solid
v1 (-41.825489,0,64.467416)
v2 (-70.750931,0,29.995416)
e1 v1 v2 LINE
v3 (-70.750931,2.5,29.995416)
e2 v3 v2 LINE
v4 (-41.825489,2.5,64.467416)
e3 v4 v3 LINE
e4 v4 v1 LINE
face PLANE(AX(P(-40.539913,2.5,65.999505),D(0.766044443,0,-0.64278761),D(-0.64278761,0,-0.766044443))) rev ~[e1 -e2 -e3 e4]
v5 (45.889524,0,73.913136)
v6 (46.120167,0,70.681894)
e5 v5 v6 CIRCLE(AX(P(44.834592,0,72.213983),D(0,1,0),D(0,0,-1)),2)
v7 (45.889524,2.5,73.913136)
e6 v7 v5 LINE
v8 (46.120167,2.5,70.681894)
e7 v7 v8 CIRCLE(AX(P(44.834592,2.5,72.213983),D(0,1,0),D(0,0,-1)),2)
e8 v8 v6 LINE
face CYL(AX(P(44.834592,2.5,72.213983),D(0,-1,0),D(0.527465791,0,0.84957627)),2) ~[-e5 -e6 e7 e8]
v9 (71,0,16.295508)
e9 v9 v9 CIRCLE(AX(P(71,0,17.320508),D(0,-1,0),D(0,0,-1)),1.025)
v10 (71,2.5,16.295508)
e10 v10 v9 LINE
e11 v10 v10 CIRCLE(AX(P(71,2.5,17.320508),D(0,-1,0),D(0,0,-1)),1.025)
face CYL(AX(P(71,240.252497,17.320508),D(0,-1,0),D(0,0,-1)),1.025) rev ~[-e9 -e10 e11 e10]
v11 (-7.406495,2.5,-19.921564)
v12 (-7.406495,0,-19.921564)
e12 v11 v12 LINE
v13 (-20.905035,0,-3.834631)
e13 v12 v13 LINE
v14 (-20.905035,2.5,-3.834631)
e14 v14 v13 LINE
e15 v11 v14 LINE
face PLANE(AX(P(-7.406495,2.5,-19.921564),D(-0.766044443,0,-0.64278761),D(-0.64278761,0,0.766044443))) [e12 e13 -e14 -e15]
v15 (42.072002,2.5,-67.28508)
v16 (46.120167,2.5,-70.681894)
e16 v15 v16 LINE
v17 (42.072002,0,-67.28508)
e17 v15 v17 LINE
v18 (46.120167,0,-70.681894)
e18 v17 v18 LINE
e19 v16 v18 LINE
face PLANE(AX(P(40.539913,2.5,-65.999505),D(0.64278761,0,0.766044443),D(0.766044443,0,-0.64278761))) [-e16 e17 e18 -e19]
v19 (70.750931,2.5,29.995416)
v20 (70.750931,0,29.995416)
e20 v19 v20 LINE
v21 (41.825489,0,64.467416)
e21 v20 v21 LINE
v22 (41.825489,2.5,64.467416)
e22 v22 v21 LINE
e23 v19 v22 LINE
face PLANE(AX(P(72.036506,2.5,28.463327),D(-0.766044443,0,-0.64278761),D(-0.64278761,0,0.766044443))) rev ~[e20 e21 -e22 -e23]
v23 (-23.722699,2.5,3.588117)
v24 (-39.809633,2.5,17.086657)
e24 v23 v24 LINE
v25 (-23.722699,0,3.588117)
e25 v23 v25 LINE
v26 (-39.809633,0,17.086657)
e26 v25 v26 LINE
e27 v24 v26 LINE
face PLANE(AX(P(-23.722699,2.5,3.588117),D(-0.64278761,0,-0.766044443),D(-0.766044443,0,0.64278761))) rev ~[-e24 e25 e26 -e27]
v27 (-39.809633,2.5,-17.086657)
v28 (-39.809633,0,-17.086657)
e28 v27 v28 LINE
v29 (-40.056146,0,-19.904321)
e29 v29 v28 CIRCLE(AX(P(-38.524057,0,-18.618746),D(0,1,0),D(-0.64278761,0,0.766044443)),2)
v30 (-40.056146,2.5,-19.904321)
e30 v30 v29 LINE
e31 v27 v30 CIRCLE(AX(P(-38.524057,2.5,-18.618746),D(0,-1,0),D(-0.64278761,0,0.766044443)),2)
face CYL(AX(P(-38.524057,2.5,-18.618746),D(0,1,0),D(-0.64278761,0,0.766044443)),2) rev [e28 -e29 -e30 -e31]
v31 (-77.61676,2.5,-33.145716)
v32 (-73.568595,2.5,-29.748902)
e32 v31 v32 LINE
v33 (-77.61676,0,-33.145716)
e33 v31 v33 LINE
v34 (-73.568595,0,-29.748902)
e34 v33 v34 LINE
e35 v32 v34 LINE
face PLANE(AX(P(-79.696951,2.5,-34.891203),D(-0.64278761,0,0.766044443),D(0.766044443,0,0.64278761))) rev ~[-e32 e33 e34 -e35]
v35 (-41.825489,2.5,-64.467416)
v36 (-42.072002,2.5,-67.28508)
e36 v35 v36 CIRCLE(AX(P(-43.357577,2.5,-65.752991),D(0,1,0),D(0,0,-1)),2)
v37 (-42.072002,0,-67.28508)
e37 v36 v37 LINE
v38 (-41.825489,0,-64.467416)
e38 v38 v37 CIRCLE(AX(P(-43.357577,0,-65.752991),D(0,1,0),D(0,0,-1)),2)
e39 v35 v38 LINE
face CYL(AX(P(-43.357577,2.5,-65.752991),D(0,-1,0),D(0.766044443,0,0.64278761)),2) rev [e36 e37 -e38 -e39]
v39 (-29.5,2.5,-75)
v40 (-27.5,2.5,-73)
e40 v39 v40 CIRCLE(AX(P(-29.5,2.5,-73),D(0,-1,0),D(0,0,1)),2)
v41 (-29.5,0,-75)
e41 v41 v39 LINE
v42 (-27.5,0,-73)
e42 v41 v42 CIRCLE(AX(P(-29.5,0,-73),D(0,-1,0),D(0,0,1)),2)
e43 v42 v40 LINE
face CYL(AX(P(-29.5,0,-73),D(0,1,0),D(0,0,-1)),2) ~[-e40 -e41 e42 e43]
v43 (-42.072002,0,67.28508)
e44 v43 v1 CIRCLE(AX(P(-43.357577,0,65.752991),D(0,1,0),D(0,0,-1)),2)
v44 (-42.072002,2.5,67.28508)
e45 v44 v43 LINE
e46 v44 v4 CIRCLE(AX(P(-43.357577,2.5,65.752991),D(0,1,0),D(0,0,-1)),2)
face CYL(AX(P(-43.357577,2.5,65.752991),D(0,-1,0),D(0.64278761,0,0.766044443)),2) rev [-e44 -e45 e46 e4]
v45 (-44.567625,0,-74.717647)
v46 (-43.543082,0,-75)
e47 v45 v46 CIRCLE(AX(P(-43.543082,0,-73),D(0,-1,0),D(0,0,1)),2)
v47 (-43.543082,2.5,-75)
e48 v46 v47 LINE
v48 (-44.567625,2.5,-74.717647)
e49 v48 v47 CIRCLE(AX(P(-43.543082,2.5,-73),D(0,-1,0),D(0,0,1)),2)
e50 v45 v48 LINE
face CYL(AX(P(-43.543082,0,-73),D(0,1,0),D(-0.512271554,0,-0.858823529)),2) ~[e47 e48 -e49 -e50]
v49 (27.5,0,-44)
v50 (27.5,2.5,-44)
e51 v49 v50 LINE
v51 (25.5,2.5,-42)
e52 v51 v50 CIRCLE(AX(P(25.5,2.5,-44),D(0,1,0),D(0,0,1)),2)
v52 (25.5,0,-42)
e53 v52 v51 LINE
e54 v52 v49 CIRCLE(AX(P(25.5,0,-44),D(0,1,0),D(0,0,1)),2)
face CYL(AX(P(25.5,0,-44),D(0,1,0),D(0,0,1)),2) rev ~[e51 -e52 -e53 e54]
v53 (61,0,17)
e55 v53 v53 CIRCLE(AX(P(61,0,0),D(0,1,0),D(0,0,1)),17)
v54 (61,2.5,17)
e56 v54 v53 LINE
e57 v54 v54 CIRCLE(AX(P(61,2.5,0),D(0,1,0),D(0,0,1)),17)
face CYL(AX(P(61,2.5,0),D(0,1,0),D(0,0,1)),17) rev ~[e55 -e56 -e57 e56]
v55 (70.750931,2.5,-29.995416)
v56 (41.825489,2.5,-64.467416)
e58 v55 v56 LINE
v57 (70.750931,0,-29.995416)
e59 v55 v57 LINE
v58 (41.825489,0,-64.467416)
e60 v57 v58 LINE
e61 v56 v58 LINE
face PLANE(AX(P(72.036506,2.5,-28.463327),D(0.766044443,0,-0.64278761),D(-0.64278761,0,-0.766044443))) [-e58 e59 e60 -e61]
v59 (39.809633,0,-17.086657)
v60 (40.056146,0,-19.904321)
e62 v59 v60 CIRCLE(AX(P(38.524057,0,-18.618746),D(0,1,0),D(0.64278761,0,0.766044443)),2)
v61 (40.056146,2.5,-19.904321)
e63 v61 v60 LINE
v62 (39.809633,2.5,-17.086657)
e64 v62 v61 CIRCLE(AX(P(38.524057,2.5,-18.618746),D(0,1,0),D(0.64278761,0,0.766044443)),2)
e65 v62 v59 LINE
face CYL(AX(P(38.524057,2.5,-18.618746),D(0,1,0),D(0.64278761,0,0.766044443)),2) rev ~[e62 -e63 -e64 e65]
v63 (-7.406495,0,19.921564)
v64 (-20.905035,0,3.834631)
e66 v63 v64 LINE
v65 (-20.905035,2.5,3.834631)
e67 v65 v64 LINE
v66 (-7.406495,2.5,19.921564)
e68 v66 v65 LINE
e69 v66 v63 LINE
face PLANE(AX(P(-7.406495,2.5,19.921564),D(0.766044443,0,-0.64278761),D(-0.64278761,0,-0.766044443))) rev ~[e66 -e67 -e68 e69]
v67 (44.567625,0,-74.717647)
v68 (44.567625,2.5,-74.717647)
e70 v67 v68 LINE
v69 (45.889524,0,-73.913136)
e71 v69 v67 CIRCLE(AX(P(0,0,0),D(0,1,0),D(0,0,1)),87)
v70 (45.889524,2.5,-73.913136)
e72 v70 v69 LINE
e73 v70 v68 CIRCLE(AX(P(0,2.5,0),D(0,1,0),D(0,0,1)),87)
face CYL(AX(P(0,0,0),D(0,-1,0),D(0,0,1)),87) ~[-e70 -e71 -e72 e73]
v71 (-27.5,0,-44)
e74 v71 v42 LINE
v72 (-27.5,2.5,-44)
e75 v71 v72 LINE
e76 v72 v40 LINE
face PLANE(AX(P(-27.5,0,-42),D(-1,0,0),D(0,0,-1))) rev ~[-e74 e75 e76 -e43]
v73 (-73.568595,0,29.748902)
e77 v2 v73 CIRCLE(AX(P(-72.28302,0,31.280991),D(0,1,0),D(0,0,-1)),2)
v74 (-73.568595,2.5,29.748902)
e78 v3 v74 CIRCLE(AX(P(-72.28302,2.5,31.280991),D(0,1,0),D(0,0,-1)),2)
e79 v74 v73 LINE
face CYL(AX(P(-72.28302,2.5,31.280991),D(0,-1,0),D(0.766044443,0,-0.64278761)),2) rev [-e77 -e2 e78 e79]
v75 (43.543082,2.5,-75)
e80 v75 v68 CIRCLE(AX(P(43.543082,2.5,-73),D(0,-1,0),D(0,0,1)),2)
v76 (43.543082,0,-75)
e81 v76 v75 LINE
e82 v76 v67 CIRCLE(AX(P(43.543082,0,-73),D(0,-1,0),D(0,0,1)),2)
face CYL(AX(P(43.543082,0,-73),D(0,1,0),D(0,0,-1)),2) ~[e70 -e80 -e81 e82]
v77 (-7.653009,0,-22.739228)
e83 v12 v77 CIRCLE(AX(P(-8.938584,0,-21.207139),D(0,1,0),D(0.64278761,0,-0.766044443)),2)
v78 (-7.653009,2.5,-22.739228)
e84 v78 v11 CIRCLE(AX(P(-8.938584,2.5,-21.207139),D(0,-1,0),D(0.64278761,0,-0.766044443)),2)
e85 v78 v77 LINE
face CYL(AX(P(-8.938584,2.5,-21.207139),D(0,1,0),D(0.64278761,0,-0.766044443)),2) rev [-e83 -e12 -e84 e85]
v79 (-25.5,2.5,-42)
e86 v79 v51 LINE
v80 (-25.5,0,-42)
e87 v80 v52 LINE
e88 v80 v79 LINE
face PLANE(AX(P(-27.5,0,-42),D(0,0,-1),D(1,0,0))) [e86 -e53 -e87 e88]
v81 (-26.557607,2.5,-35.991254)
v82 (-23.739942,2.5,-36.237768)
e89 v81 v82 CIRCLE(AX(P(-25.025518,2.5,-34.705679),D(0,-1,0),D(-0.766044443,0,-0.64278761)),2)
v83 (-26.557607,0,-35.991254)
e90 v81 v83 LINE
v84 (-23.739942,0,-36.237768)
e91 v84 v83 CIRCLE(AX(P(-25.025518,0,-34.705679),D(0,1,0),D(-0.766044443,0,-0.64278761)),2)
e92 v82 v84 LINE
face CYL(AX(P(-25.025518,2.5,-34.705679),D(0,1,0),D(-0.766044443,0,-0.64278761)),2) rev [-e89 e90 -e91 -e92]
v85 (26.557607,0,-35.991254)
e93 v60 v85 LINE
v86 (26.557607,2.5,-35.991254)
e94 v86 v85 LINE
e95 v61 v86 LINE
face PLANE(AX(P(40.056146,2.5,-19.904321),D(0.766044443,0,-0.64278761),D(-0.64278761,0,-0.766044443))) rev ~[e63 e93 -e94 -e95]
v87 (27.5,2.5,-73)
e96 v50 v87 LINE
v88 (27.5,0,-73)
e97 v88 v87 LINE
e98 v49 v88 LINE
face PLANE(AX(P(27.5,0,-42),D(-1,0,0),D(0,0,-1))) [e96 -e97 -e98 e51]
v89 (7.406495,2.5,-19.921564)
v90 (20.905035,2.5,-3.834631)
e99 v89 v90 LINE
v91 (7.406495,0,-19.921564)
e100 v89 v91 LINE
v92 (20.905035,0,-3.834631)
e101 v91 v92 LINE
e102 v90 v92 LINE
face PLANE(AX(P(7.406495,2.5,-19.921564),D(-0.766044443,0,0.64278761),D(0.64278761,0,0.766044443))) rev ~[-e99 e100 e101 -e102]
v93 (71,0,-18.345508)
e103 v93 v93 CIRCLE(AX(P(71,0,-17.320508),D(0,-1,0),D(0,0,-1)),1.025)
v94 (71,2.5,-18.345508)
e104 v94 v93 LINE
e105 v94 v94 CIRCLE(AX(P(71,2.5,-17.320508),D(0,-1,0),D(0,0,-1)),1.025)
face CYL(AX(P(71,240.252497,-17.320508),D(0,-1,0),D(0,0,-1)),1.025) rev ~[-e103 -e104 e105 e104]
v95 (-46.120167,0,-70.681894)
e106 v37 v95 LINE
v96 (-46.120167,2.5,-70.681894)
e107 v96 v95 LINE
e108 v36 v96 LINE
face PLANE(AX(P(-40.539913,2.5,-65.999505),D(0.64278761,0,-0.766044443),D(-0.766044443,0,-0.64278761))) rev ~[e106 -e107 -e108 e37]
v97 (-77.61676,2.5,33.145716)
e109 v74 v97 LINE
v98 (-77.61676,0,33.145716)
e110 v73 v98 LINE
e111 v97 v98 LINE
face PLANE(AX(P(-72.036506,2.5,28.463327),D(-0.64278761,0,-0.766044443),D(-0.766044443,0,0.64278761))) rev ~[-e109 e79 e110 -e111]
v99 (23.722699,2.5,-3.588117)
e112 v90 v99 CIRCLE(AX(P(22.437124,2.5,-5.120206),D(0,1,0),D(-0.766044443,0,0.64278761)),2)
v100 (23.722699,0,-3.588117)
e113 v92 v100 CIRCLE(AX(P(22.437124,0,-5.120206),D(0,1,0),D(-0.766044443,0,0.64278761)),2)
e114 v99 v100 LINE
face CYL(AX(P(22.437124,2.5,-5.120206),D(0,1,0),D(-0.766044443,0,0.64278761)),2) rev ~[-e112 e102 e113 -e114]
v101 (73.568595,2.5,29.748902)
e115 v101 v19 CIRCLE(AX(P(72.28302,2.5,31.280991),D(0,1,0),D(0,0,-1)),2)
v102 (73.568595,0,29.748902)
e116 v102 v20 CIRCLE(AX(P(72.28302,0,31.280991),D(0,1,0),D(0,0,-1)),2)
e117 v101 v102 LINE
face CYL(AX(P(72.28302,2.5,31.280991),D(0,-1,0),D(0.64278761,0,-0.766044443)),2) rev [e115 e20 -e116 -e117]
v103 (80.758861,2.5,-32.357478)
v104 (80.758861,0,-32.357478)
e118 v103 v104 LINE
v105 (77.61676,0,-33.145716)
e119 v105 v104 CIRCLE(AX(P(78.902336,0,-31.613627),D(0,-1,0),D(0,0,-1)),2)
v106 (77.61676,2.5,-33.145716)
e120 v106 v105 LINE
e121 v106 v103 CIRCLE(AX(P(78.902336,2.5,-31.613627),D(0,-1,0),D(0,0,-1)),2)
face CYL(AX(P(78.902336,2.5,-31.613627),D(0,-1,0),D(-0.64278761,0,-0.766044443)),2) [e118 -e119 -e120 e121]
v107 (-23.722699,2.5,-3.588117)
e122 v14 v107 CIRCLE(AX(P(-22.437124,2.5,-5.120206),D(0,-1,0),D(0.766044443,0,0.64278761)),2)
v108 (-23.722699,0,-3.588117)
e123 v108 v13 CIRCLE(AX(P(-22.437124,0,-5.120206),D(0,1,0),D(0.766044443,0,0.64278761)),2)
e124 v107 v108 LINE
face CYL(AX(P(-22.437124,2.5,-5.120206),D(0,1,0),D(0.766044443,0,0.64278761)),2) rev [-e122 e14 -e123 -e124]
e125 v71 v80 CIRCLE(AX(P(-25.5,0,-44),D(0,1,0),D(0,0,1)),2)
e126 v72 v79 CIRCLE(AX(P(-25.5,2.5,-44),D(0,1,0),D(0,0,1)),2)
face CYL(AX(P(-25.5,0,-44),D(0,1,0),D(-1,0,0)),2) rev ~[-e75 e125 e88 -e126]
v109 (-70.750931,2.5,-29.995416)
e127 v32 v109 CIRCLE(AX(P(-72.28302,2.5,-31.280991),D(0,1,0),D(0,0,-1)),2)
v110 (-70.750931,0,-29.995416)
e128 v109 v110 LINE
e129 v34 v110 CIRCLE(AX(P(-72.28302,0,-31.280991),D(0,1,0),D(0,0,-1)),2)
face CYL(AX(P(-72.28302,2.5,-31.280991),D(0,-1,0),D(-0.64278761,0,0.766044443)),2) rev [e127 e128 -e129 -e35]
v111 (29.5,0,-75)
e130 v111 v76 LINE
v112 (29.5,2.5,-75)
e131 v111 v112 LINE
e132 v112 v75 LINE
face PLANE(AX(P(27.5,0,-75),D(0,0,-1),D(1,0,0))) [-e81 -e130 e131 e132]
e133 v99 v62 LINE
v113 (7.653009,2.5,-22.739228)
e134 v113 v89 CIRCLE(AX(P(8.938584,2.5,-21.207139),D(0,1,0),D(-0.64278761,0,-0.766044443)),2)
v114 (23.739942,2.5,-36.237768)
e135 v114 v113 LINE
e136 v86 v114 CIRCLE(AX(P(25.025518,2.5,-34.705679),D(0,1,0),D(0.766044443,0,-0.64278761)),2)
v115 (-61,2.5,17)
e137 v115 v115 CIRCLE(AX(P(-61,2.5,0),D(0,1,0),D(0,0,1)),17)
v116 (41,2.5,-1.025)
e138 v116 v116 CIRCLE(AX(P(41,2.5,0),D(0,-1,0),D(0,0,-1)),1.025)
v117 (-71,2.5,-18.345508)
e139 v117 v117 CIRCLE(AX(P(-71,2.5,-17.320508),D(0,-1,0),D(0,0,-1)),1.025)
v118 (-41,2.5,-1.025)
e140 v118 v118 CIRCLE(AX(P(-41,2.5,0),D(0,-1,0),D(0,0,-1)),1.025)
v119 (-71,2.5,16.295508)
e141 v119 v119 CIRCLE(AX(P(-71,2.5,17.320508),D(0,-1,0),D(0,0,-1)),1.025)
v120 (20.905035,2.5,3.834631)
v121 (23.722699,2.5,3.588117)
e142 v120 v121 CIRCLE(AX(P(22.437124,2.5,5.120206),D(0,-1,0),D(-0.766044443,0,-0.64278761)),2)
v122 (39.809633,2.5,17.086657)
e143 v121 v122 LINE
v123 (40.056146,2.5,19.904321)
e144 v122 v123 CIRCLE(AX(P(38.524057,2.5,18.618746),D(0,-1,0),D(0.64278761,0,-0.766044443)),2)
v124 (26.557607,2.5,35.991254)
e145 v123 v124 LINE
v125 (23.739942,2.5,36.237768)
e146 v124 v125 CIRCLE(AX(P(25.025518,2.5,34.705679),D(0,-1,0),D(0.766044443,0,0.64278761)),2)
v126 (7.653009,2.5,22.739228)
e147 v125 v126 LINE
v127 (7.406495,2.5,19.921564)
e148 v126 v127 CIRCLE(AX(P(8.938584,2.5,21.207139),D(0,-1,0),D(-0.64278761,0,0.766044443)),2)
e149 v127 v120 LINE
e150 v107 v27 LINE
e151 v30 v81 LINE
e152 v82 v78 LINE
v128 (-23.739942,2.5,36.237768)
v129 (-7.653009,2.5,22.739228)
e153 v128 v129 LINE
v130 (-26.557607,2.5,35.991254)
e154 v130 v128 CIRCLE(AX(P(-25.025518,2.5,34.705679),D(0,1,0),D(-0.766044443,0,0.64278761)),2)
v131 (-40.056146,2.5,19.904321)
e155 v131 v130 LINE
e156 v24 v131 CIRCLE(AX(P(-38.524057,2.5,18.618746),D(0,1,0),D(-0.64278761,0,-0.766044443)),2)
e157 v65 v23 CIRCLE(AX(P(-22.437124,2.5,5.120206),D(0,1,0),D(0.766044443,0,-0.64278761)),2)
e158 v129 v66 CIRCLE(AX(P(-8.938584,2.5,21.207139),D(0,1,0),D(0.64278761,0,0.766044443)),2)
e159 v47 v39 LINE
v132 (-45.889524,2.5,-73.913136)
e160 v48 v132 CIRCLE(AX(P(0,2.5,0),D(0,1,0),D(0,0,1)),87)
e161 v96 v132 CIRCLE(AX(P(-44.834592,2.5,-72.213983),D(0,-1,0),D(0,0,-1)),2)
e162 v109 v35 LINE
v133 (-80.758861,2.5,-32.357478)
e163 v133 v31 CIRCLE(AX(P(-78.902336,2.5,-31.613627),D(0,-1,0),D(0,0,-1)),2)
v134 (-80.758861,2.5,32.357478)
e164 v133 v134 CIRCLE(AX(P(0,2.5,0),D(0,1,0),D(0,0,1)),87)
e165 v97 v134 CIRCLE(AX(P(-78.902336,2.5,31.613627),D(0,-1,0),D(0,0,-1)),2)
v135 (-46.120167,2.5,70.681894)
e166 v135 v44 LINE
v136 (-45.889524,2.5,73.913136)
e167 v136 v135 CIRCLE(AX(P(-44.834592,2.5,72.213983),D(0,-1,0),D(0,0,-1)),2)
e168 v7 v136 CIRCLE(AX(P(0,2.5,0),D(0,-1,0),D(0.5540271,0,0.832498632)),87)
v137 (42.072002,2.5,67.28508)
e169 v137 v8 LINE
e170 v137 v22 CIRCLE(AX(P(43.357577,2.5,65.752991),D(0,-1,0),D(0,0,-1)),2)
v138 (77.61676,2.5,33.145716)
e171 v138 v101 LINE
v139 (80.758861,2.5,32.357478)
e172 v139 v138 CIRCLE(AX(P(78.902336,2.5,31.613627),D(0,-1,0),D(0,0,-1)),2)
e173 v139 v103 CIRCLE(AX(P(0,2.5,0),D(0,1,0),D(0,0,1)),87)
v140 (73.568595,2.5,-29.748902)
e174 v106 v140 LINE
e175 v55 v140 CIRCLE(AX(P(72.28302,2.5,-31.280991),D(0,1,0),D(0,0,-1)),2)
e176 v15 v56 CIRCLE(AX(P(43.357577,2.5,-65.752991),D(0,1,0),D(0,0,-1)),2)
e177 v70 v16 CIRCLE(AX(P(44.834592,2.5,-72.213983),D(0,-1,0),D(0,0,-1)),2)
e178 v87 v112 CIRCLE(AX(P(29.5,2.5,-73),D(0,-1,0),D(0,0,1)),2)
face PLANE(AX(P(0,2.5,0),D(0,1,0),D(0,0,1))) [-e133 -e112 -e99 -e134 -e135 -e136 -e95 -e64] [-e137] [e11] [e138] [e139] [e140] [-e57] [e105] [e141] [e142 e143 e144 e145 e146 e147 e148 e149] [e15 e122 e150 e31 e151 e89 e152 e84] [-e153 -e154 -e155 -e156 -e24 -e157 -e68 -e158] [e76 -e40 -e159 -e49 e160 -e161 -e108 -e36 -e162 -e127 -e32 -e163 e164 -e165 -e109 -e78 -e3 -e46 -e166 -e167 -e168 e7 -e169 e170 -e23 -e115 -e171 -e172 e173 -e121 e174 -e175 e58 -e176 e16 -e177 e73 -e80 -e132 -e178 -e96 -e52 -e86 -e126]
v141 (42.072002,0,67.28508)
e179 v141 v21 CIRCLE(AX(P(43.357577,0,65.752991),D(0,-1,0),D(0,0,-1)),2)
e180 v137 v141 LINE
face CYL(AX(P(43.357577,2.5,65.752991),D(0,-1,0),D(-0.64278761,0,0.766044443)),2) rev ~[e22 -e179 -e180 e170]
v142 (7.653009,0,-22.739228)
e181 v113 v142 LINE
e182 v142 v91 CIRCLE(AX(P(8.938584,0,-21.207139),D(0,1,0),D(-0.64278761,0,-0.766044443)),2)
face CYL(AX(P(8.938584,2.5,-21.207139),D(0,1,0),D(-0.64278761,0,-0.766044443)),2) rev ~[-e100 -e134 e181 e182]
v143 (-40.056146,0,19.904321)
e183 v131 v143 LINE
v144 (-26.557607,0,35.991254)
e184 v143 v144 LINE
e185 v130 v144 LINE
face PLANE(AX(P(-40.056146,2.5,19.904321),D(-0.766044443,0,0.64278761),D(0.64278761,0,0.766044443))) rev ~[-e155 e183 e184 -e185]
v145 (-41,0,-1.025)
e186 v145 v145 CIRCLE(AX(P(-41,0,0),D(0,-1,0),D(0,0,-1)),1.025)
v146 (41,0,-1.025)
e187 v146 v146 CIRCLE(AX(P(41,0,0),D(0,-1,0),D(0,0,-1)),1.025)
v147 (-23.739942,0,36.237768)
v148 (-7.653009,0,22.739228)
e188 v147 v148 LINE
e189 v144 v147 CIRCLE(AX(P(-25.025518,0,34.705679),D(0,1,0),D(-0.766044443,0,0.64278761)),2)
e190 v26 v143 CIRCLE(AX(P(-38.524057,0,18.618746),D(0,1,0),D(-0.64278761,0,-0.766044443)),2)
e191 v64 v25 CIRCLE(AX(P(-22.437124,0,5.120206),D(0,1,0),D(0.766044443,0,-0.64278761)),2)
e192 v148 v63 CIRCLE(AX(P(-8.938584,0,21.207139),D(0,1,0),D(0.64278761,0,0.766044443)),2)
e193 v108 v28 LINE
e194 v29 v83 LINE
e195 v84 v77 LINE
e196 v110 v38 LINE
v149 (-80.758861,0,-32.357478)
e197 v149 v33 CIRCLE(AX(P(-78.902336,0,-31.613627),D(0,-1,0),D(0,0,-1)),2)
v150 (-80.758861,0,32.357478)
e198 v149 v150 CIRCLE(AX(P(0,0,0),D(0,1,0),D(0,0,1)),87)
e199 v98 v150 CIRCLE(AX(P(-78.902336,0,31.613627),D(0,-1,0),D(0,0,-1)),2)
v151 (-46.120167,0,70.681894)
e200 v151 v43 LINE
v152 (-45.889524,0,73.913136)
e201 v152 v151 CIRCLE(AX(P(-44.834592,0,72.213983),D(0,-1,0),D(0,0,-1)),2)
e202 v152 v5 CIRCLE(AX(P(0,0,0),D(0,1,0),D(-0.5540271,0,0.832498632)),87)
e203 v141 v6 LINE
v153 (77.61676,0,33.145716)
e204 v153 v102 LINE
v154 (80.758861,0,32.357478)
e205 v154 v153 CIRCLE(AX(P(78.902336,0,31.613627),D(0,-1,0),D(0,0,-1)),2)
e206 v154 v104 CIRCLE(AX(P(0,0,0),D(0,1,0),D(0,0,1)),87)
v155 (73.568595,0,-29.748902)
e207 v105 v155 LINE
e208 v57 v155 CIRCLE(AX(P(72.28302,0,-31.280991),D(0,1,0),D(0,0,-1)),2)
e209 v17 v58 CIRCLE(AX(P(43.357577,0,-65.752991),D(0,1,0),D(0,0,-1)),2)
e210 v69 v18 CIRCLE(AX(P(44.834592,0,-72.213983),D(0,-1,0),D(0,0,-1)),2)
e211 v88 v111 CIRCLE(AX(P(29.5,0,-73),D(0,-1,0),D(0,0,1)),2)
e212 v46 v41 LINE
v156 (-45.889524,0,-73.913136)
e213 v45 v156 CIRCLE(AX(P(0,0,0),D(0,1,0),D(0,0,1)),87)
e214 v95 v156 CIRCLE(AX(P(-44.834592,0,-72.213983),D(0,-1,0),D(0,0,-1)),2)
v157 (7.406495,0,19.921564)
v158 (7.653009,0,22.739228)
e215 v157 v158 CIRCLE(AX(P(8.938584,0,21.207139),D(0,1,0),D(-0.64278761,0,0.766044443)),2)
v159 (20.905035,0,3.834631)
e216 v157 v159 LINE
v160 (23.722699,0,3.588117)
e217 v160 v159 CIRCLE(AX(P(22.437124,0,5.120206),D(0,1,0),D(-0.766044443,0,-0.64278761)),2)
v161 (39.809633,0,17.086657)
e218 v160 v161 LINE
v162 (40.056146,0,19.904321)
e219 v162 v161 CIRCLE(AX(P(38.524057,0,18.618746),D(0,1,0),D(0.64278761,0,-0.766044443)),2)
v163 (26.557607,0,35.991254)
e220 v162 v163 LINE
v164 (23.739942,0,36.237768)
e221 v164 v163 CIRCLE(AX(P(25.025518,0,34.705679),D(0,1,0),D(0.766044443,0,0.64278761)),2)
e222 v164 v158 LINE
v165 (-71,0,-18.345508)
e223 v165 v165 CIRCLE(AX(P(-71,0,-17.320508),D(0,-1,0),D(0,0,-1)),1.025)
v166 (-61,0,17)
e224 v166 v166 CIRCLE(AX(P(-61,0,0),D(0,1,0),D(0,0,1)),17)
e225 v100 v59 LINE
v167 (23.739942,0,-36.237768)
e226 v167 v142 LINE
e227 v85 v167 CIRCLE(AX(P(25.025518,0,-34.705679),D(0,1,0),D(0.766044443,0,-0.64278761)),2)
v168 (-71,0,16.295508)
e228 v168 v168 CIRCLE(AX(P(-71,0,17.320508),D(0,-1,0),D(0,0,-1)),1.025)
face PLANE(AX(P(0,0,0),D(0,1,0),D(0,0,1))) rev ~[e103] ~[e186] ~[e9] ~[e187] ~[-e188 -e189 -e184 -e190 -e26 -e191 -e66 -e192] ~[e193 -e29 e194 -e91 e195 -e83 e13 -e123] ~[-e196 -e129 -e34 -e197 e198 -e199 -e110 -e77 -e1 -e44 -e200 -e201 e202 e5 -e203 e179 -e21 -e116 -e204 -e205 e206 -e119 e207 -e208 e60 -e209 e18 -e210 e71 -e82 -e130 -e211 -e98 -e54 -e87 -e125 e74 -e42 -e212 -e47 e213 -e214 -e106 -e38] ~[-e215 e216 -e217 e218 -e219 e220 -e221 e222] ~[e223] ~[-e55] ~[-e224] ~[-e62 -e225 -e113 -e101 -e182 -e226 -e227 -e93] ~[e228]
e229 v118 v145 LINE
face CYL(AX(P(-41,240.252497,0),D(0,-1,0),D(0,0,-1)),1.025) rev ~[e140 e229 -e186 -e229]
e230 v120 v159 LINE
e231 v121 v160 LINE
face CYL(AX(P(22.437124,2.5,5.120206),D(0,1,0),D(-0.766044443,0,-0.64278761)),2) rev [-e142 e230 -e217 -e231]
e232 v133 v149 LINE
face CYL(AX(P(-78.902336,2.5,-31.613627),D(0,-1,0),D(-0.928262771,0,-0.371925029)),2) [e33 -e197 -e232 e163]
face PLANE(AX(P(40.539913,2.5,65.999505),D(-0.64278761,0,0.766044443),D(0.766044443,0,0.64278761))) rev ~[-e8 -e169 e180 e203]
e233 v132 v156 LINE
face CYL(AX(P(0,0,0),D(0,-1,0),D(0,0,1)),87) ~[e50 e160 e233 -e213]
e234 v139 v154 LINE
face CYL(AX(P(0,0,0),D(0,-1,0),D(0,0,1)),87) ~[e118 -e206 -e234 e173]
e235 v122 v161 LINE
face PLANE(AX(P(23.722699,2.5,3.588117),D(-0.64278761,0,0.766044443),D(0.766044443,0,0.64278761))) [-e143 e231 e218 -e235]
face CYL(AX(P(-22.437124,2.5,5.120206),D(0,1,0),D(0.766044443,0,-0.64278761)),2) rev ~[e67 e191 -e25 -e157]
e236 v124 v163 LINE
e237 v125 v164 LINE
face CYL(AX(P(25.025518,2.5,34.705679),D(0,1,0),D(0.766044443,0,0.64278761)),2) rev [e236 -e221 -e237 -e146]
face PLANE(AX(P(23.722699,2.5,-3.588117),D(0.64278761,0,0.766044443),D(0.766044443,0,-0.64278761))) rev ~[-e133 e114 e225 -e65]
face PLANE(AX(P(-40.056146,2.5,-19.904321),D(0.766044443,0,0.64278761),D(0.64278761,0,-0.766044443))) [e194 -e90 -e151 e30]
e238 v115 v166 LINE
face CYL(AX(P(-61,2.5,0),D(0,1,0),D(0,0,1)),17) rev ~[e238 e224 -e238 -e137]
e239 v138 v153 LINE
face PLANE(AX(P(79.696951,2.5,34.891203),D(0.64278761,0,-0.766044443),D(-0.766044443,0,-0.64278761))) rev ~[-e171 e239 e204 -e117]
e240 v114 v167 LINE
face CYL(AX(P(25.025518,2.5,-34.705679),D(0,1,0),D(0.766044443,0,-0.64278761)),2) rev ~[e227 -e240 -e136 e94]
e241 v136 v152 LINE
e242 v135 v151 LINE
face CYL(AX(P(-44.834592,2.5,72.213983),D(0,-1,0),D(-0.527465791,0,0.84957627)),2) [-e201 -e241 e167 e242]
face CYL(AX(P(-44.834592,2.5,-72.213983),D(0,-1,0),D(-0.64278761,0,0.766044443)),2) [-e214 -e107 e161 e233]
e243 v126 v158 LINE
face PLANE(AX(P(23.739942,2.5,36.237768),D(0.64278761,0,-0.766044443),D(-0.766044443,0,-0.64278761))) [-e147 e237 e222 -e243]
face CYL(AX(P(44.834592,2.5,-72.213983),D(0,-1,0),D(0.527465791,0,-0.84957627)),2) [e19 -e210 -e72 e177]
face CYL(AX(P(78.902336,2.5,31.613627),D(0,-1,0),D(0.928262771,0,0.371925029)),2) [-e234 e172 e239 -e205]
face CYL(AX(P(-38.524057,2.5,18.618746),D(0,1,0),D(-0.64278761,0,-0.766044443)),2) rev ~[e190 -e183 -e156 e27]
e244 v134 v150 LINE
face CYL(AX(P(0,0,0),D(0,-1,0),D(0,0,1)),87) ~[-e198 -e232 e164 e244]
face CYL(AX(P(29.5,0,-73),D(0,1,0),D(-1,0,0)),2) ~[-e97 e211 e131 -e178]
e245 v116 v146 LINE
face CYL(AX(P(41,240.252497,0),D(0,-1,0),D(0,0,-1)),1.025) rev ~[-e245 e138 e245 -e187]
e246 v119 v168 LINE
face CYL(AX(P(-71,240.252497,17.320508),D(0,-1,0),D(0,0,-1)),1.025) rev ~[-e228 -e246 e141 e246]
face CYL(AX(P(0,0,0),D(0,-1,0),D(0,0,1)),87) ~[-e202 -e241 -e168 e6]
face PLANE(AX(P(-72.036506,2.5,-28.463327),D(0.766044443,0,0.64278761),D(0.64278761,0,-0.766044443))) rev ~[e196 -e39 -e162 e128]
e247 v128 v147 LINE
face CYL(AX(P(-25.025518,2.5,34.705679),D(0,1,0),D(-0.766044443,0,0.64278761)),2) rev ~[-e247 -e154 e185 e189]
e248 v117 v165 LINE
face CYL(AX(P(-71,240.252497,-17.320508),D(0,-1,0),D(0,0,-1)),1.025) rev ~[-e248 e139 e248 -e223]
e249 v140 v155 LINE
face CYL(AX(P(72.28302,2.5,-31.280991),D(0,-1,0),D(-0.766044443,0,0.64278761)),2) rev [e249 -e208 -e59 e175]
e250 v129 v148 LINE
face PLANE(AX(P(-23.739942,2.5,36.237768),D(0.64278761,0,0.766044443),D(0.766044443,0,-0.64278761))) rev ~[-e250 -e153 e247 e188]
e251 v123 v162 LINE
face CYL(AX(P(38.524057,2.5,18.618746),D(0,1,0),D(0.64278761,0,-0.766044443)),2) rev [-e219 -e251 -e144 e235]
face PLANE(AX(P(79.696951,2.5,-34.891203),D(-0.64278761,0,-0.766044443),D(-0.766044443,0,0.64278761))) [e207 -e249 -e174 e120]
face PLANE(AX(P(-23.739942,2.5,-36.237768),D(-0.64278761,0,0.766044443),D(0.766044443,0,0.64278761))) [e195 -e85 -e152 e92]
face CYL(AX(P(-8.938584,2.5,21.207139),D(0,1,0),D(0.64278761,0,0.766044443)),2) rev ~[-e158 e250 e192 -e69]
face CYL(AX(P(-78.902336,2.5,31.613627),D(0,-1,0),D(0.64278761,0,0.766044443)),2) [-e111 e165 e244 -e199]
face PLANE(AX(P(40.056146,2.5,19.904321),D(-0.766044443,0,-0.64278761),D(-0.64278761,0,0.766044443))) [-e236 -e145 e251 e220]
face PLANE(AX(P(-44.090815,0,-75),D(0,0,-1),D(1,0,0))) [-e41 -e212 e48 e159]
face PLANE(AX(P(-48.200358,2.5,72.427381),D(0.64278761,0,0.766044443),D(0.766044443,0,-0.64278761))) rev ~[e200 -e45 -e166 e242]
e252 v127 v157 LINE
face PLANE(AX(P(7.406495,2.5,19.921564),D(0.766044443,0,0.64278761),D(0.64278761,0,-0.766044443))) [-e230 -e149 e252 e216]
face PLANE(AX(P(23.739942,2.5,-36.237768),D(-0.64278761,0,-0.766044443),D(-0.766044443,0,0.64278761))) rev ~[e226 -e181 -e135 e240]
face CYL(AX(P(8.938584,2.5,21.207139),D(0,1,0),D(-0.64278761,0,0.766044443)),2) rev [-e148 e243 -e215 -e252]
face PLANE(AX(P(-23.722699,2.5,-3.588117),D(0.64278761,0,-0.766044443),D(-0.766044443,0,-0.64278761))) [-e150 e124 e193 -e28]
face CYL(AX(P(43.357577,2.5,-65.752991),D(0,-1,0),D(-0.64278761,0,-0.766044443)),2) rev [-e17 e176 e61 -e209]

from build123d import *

# Parameters (mm, degrees)
ESBO_O1_R                = 87
RESSALTO_EXTRUS_O1_DEPTH = 2.5
CORTE_EXTRUS_O1_DEPTH    = 2.5
CORTE_EXTRUS_O2_START    = -2.5
ESBO_O3_W                = 27.5
ESBO_O3_H                = 33
CORTE_EXTRUS_O2_DEPTH    = 2.5
FILETE2_R                = 2
ESBO_O4_R                = 17
CORTE_EXTRUS_O3_DEPTH    = 4
CORTE_EXTRUS_O5_DEPTH    = 3
FURO_ROSCADO_DE_M2_51_D  = 2.05


with BuildPart() as part:
    # Esboço1 → Ressalto-extrusão1 (new body)
    with BuildSketch(Plane(origin=(0, 0, 0), x_dir=(1, 0, 0), z_dir=(0, 1, 0))):
        with Locations(Location((0, 0, 0), (0, 0, 270))):
            Circle(ESBO_O1_R)
    extrude(amount=RESSALTO_EXTRUS_O1_DEPTH)

    # Esboço2 → Corte-extrusão1 (cut)
    with BuildSketch(Plane(origin=(0, 2.5, 0), x_dir=(1, 0, 0), z_dir=(0, 1, 0))):
        Polygon((66.645866551, 55.922522043), (82.394162989, 37.154433186), (79.696950599, 34.891203265), (72.036506168, 28.463327168), (40.539913293, 65.999504881), (48.200357724, 72.427380978), (50.897570114, 74.690610899), align=None)
        Polygon((50.897570114, -74.690610899), (82.394162989, -37.154433186), (79.696950599, -34.891203265), (72.036506168, -28.463327168), (40.539913293, -65.999504881), (48.200357724, -72.427380978), align=None)
        Polygon((-72.036506168, 28.463327168), (-40.539913293, 65.999504881), (-48.200357724, 72.427380978), (-50.897570114, 74.690610899), (-66.645866551, 55.922522043), (-82.394162989, 37.154433186), (-79.696950599, 34.891203265), align=None)
        Polygon((-79.696950599, -34.891203265), (-82.394162989, -37.154433186), (-50.897570114, -74.690610899), (-48.200357724, -72.427380978), (-40.539913293, -65.999504881), (-72.036506168, -28.463327168), align=None)
    extrude(amount=-CORTE_EXTRUS_O1_DEPTH, mode=Mode.SUBTRACT)

    # Esboço3 → Corte-extrusão2 (cut)
    with BuildSketch(Plane(origin=(0, 2.5, 0), x_dir=(1, 0, 0), z_dir=(0, 1, 0)).offset(CORTE_EXTRUS_O2_START)):
        with Locations((-13.75, 58.5)):
            Rectangle(ESBO_O3_W, ESBO_O3_H)
        with Locations((13.75, 58.5)):
            Rectangle(ESBO_O3_W, ESBO_O3_H)
        with BuildLine():
            Line((0, 87), (0, 75))
            Line((0, 75), (27.5, 75))
            Line((27.5, 75), (44.09081537, 75))
            ThreePointArc((44.09081537, 75), (22.847319318, 83.946411478), (0, 87))
        make_face()
        with BuildLine():
            Line((-27.5, 75), (0, 75))
            Line((0, 75), (0, 87))
            ThreePointArc((0, 87), (-22.847319318, 83.946411478), (-44.09081537, 75))
            Line((-44.09081537, 75), (-27.5, 75))
        make_face()
    extrude(amount=CORTE_EXTRUS_O2_DEPTH, mode=Mode.SUBTRACT)

    # Filete2
    filete2_edges = [part.edges().sort_by_distance(p)[0] for p in [
        (27.5, 1.25, -42),
        (-27.5, 1.25, -42),
        (-27.5, 1.25, -75),
        (-44.09081537, 1.25, -75),
        (44.09081537, 1.25, -75),
        (27.5, 1.25, -75),
        (79.696950599, 1.25, 34.891203265),
        (72.036506168, 1.25, 28.463327168),
        (48.200357724, 1.25, 72.427380978),
        (40.539913293, 1.25, 65.999504881),
        (-79.696950599, 1.25, -34.891203265),
        (-72.036506168, 1.25, -28.463327168),
        (-48.200357724, 1.25, -72.427380978),
        (-40.539913293, 1.25, -65.999504881),
        (-79.696950599, 1.25, 34.891203265),
        (-48.200357724, 1.25, 72.427380978),
        (-40.539913293, 1.25, 65.999504881),
        (-72.036506168, 1.25, 28.463327168),
        (79.696950599, 1.25, -34.891203265),
        (48.200357724, 1.25, -72.427380978),
        (40.539913293, 1.25, -65.999504881),
        (72.036506168, 1.25, -28.463327168),
    ]]
    fillet(filete2_edges, radius=FILETE2_R)

    # Esboço4 → Corte-extrusão3 (cut)
    with BuildSketch(Plane(origin=(0, 2.5, 0), x_dir=(1, 0, 0), z_dir=(0, 1, 0))):
        with Locations(Location((61, 0, 0), (0, 0, 270))):
            Circle(ESBO_O4_R)
        with Locations(Location((-61, 0, 0), (0, 0, 270))):
            Circle(ESBO_O4_R)
    extrude(amount=-CORTE_EXTRUS_O3_DEPTH, mode=Mode.SUBTRACT)

    # Esboço7 → Corte-extrusão5 (cut)
    with BuildSketch(Plane(origin=(0, 2.5, 0), x_dir=(1, 0, 0), z_dir=(0, 1, 0))):
        with BuildLine():
            Line((-40.056146338, -19.904321081), (-26.557606535, -35.991254386))
            ThreePointArc((-26.557606535, -35.991254386), (-25.199829134, -36.698068563), (-23.739942429, -36.237768053))
            Line((-23.739942429, -36.237768053), (-7.653009124, -22.73922825))
            ThreePointArc((-7.653009124, -22.73922825), (-6.946194947, -21.381450849), (-7.406495457, -19.921564144))
            Line((-7.406495457, -19.921564144), (-20.90503526, -3.834630839))
            ThreePointArc((-20.90503526, -3.834630839), (-22.262812661, -3.127816662), (-23.722699366, -3.588117172))
            Line((-23.722699366, -3.588117172), (-39.809632672, -17.086656975))
            ThreePointArc((-39.809632672, -17.086656975), (-40.516446848, -18.444434376), (-40.056146338, -19.904321081))
        make_face()
        with BuildLine():
            Line((-23.722699366, 3.588117172), (-39.809632672, 17.086656975))
            ThreePointArc((-39.809632672, 17.086656975), (-40.516446848, 18.444434376), (-40.056146338, 19.904321081))
            Line((-40.056146338, 19.904321081), (-26.557606535, 35.991254386))
            ThreePointArc((-26.557606535, 35.991254386), (-25.199829134, 36.698068563), (-23.739942429, 36.237768053))
            Line((-23.739942429, 36.237768053), (-7.653009124, 22.73922825))
            ThreePointArc((-7.653009124, 22.73922825), (-6.946194947, 21.381450849), (-7.406495457, 19.921564144))
            Line((-7.406495457, 19.921564144), (-20.90503526, 3.834630839))
            ThreePointArc((-20.90503526, 3.834630839), (-22.262812661, 3.127816662), (-23.722699366, 3.588117172))
        make_face()
        with BuildLine():
            Line((40.056146338, 19.904321081), (26.557606535, 35.991254386))
            ThreePointArc((26.557606535, 35.991254386), (25.199829134, 36.698068563), (23.739942429, 36.237768053))
            Line((23.739942429, 36.237768053), (7.653009124, 22.73922825))
            ThreePointArc((7.653009124, 22.73922825), (6.946194947, 21.381450849), (7.406495457, 19.921564144))
            Line((7.406495457, 19.921564144), (20.90503526, 3.834630839))
            ThreePointArc((20.90503526, 3.834630839), (22.262812661, 3.127816662), (23.722699366, 3.588117172))
            Line((23.722699366, 3.588117172), (39.809632672, 17.086656975))
            ThreePointArc((39.809632672, 17.086656975), (40.516446848, 18.444434376), (40.056146338, 19.904321081))
        make_face()
        with BuildLine():
            Line((23.722699366, -3.588117172), (39.809632672, -17.086656975))
            ThreePointArc((39.809632672, -17.086656975), (40.516446848, -18.444434376), (40.056146338, -19.904321081))
            Line((40.056146338, -19.904321081), (26.557606535, -35.991254386))
            ThreePointArc((26.557606535, -35.991254386), (25.199829134, -36.698068563), (23.739942429, -36.237768053))
            Line((23.739942429, -36.237768053), (7.653009124, -22.73922825))
            ThreePointArc((7.653009124, -22.73922825), (6.946194947, -21.381450849), (7.406495457, -19.921564144))
            Line((7.406495457, -19.921564144), (20.90503526, -3.834630839))
            ThreePointArc((20.90503526, -3.834630839), (22.262812661, -3.127816662), (23.722699366, -3.588117172))
        make_face()
    extrude(amount=-CORTE_EXTRUS_O5_DEPTH, mode=Mode.SUBTRACT)

    # Furo roscado de M2.51 (through all)
    with Locations(Plane(origin=(-71, 2.5, -17.320508076), x_dir=(0, 0, 1), z_dir=(0, 1, 0))):
        with Locations((0, 0), (17.320508076, 30), (34.641016152, 0), (17.320508076, 112), (0, 142), (34.641016152, 142)):
            Hole(FURO_ROSCADO_DE_M2_51_D / 2)


solid = part.part
